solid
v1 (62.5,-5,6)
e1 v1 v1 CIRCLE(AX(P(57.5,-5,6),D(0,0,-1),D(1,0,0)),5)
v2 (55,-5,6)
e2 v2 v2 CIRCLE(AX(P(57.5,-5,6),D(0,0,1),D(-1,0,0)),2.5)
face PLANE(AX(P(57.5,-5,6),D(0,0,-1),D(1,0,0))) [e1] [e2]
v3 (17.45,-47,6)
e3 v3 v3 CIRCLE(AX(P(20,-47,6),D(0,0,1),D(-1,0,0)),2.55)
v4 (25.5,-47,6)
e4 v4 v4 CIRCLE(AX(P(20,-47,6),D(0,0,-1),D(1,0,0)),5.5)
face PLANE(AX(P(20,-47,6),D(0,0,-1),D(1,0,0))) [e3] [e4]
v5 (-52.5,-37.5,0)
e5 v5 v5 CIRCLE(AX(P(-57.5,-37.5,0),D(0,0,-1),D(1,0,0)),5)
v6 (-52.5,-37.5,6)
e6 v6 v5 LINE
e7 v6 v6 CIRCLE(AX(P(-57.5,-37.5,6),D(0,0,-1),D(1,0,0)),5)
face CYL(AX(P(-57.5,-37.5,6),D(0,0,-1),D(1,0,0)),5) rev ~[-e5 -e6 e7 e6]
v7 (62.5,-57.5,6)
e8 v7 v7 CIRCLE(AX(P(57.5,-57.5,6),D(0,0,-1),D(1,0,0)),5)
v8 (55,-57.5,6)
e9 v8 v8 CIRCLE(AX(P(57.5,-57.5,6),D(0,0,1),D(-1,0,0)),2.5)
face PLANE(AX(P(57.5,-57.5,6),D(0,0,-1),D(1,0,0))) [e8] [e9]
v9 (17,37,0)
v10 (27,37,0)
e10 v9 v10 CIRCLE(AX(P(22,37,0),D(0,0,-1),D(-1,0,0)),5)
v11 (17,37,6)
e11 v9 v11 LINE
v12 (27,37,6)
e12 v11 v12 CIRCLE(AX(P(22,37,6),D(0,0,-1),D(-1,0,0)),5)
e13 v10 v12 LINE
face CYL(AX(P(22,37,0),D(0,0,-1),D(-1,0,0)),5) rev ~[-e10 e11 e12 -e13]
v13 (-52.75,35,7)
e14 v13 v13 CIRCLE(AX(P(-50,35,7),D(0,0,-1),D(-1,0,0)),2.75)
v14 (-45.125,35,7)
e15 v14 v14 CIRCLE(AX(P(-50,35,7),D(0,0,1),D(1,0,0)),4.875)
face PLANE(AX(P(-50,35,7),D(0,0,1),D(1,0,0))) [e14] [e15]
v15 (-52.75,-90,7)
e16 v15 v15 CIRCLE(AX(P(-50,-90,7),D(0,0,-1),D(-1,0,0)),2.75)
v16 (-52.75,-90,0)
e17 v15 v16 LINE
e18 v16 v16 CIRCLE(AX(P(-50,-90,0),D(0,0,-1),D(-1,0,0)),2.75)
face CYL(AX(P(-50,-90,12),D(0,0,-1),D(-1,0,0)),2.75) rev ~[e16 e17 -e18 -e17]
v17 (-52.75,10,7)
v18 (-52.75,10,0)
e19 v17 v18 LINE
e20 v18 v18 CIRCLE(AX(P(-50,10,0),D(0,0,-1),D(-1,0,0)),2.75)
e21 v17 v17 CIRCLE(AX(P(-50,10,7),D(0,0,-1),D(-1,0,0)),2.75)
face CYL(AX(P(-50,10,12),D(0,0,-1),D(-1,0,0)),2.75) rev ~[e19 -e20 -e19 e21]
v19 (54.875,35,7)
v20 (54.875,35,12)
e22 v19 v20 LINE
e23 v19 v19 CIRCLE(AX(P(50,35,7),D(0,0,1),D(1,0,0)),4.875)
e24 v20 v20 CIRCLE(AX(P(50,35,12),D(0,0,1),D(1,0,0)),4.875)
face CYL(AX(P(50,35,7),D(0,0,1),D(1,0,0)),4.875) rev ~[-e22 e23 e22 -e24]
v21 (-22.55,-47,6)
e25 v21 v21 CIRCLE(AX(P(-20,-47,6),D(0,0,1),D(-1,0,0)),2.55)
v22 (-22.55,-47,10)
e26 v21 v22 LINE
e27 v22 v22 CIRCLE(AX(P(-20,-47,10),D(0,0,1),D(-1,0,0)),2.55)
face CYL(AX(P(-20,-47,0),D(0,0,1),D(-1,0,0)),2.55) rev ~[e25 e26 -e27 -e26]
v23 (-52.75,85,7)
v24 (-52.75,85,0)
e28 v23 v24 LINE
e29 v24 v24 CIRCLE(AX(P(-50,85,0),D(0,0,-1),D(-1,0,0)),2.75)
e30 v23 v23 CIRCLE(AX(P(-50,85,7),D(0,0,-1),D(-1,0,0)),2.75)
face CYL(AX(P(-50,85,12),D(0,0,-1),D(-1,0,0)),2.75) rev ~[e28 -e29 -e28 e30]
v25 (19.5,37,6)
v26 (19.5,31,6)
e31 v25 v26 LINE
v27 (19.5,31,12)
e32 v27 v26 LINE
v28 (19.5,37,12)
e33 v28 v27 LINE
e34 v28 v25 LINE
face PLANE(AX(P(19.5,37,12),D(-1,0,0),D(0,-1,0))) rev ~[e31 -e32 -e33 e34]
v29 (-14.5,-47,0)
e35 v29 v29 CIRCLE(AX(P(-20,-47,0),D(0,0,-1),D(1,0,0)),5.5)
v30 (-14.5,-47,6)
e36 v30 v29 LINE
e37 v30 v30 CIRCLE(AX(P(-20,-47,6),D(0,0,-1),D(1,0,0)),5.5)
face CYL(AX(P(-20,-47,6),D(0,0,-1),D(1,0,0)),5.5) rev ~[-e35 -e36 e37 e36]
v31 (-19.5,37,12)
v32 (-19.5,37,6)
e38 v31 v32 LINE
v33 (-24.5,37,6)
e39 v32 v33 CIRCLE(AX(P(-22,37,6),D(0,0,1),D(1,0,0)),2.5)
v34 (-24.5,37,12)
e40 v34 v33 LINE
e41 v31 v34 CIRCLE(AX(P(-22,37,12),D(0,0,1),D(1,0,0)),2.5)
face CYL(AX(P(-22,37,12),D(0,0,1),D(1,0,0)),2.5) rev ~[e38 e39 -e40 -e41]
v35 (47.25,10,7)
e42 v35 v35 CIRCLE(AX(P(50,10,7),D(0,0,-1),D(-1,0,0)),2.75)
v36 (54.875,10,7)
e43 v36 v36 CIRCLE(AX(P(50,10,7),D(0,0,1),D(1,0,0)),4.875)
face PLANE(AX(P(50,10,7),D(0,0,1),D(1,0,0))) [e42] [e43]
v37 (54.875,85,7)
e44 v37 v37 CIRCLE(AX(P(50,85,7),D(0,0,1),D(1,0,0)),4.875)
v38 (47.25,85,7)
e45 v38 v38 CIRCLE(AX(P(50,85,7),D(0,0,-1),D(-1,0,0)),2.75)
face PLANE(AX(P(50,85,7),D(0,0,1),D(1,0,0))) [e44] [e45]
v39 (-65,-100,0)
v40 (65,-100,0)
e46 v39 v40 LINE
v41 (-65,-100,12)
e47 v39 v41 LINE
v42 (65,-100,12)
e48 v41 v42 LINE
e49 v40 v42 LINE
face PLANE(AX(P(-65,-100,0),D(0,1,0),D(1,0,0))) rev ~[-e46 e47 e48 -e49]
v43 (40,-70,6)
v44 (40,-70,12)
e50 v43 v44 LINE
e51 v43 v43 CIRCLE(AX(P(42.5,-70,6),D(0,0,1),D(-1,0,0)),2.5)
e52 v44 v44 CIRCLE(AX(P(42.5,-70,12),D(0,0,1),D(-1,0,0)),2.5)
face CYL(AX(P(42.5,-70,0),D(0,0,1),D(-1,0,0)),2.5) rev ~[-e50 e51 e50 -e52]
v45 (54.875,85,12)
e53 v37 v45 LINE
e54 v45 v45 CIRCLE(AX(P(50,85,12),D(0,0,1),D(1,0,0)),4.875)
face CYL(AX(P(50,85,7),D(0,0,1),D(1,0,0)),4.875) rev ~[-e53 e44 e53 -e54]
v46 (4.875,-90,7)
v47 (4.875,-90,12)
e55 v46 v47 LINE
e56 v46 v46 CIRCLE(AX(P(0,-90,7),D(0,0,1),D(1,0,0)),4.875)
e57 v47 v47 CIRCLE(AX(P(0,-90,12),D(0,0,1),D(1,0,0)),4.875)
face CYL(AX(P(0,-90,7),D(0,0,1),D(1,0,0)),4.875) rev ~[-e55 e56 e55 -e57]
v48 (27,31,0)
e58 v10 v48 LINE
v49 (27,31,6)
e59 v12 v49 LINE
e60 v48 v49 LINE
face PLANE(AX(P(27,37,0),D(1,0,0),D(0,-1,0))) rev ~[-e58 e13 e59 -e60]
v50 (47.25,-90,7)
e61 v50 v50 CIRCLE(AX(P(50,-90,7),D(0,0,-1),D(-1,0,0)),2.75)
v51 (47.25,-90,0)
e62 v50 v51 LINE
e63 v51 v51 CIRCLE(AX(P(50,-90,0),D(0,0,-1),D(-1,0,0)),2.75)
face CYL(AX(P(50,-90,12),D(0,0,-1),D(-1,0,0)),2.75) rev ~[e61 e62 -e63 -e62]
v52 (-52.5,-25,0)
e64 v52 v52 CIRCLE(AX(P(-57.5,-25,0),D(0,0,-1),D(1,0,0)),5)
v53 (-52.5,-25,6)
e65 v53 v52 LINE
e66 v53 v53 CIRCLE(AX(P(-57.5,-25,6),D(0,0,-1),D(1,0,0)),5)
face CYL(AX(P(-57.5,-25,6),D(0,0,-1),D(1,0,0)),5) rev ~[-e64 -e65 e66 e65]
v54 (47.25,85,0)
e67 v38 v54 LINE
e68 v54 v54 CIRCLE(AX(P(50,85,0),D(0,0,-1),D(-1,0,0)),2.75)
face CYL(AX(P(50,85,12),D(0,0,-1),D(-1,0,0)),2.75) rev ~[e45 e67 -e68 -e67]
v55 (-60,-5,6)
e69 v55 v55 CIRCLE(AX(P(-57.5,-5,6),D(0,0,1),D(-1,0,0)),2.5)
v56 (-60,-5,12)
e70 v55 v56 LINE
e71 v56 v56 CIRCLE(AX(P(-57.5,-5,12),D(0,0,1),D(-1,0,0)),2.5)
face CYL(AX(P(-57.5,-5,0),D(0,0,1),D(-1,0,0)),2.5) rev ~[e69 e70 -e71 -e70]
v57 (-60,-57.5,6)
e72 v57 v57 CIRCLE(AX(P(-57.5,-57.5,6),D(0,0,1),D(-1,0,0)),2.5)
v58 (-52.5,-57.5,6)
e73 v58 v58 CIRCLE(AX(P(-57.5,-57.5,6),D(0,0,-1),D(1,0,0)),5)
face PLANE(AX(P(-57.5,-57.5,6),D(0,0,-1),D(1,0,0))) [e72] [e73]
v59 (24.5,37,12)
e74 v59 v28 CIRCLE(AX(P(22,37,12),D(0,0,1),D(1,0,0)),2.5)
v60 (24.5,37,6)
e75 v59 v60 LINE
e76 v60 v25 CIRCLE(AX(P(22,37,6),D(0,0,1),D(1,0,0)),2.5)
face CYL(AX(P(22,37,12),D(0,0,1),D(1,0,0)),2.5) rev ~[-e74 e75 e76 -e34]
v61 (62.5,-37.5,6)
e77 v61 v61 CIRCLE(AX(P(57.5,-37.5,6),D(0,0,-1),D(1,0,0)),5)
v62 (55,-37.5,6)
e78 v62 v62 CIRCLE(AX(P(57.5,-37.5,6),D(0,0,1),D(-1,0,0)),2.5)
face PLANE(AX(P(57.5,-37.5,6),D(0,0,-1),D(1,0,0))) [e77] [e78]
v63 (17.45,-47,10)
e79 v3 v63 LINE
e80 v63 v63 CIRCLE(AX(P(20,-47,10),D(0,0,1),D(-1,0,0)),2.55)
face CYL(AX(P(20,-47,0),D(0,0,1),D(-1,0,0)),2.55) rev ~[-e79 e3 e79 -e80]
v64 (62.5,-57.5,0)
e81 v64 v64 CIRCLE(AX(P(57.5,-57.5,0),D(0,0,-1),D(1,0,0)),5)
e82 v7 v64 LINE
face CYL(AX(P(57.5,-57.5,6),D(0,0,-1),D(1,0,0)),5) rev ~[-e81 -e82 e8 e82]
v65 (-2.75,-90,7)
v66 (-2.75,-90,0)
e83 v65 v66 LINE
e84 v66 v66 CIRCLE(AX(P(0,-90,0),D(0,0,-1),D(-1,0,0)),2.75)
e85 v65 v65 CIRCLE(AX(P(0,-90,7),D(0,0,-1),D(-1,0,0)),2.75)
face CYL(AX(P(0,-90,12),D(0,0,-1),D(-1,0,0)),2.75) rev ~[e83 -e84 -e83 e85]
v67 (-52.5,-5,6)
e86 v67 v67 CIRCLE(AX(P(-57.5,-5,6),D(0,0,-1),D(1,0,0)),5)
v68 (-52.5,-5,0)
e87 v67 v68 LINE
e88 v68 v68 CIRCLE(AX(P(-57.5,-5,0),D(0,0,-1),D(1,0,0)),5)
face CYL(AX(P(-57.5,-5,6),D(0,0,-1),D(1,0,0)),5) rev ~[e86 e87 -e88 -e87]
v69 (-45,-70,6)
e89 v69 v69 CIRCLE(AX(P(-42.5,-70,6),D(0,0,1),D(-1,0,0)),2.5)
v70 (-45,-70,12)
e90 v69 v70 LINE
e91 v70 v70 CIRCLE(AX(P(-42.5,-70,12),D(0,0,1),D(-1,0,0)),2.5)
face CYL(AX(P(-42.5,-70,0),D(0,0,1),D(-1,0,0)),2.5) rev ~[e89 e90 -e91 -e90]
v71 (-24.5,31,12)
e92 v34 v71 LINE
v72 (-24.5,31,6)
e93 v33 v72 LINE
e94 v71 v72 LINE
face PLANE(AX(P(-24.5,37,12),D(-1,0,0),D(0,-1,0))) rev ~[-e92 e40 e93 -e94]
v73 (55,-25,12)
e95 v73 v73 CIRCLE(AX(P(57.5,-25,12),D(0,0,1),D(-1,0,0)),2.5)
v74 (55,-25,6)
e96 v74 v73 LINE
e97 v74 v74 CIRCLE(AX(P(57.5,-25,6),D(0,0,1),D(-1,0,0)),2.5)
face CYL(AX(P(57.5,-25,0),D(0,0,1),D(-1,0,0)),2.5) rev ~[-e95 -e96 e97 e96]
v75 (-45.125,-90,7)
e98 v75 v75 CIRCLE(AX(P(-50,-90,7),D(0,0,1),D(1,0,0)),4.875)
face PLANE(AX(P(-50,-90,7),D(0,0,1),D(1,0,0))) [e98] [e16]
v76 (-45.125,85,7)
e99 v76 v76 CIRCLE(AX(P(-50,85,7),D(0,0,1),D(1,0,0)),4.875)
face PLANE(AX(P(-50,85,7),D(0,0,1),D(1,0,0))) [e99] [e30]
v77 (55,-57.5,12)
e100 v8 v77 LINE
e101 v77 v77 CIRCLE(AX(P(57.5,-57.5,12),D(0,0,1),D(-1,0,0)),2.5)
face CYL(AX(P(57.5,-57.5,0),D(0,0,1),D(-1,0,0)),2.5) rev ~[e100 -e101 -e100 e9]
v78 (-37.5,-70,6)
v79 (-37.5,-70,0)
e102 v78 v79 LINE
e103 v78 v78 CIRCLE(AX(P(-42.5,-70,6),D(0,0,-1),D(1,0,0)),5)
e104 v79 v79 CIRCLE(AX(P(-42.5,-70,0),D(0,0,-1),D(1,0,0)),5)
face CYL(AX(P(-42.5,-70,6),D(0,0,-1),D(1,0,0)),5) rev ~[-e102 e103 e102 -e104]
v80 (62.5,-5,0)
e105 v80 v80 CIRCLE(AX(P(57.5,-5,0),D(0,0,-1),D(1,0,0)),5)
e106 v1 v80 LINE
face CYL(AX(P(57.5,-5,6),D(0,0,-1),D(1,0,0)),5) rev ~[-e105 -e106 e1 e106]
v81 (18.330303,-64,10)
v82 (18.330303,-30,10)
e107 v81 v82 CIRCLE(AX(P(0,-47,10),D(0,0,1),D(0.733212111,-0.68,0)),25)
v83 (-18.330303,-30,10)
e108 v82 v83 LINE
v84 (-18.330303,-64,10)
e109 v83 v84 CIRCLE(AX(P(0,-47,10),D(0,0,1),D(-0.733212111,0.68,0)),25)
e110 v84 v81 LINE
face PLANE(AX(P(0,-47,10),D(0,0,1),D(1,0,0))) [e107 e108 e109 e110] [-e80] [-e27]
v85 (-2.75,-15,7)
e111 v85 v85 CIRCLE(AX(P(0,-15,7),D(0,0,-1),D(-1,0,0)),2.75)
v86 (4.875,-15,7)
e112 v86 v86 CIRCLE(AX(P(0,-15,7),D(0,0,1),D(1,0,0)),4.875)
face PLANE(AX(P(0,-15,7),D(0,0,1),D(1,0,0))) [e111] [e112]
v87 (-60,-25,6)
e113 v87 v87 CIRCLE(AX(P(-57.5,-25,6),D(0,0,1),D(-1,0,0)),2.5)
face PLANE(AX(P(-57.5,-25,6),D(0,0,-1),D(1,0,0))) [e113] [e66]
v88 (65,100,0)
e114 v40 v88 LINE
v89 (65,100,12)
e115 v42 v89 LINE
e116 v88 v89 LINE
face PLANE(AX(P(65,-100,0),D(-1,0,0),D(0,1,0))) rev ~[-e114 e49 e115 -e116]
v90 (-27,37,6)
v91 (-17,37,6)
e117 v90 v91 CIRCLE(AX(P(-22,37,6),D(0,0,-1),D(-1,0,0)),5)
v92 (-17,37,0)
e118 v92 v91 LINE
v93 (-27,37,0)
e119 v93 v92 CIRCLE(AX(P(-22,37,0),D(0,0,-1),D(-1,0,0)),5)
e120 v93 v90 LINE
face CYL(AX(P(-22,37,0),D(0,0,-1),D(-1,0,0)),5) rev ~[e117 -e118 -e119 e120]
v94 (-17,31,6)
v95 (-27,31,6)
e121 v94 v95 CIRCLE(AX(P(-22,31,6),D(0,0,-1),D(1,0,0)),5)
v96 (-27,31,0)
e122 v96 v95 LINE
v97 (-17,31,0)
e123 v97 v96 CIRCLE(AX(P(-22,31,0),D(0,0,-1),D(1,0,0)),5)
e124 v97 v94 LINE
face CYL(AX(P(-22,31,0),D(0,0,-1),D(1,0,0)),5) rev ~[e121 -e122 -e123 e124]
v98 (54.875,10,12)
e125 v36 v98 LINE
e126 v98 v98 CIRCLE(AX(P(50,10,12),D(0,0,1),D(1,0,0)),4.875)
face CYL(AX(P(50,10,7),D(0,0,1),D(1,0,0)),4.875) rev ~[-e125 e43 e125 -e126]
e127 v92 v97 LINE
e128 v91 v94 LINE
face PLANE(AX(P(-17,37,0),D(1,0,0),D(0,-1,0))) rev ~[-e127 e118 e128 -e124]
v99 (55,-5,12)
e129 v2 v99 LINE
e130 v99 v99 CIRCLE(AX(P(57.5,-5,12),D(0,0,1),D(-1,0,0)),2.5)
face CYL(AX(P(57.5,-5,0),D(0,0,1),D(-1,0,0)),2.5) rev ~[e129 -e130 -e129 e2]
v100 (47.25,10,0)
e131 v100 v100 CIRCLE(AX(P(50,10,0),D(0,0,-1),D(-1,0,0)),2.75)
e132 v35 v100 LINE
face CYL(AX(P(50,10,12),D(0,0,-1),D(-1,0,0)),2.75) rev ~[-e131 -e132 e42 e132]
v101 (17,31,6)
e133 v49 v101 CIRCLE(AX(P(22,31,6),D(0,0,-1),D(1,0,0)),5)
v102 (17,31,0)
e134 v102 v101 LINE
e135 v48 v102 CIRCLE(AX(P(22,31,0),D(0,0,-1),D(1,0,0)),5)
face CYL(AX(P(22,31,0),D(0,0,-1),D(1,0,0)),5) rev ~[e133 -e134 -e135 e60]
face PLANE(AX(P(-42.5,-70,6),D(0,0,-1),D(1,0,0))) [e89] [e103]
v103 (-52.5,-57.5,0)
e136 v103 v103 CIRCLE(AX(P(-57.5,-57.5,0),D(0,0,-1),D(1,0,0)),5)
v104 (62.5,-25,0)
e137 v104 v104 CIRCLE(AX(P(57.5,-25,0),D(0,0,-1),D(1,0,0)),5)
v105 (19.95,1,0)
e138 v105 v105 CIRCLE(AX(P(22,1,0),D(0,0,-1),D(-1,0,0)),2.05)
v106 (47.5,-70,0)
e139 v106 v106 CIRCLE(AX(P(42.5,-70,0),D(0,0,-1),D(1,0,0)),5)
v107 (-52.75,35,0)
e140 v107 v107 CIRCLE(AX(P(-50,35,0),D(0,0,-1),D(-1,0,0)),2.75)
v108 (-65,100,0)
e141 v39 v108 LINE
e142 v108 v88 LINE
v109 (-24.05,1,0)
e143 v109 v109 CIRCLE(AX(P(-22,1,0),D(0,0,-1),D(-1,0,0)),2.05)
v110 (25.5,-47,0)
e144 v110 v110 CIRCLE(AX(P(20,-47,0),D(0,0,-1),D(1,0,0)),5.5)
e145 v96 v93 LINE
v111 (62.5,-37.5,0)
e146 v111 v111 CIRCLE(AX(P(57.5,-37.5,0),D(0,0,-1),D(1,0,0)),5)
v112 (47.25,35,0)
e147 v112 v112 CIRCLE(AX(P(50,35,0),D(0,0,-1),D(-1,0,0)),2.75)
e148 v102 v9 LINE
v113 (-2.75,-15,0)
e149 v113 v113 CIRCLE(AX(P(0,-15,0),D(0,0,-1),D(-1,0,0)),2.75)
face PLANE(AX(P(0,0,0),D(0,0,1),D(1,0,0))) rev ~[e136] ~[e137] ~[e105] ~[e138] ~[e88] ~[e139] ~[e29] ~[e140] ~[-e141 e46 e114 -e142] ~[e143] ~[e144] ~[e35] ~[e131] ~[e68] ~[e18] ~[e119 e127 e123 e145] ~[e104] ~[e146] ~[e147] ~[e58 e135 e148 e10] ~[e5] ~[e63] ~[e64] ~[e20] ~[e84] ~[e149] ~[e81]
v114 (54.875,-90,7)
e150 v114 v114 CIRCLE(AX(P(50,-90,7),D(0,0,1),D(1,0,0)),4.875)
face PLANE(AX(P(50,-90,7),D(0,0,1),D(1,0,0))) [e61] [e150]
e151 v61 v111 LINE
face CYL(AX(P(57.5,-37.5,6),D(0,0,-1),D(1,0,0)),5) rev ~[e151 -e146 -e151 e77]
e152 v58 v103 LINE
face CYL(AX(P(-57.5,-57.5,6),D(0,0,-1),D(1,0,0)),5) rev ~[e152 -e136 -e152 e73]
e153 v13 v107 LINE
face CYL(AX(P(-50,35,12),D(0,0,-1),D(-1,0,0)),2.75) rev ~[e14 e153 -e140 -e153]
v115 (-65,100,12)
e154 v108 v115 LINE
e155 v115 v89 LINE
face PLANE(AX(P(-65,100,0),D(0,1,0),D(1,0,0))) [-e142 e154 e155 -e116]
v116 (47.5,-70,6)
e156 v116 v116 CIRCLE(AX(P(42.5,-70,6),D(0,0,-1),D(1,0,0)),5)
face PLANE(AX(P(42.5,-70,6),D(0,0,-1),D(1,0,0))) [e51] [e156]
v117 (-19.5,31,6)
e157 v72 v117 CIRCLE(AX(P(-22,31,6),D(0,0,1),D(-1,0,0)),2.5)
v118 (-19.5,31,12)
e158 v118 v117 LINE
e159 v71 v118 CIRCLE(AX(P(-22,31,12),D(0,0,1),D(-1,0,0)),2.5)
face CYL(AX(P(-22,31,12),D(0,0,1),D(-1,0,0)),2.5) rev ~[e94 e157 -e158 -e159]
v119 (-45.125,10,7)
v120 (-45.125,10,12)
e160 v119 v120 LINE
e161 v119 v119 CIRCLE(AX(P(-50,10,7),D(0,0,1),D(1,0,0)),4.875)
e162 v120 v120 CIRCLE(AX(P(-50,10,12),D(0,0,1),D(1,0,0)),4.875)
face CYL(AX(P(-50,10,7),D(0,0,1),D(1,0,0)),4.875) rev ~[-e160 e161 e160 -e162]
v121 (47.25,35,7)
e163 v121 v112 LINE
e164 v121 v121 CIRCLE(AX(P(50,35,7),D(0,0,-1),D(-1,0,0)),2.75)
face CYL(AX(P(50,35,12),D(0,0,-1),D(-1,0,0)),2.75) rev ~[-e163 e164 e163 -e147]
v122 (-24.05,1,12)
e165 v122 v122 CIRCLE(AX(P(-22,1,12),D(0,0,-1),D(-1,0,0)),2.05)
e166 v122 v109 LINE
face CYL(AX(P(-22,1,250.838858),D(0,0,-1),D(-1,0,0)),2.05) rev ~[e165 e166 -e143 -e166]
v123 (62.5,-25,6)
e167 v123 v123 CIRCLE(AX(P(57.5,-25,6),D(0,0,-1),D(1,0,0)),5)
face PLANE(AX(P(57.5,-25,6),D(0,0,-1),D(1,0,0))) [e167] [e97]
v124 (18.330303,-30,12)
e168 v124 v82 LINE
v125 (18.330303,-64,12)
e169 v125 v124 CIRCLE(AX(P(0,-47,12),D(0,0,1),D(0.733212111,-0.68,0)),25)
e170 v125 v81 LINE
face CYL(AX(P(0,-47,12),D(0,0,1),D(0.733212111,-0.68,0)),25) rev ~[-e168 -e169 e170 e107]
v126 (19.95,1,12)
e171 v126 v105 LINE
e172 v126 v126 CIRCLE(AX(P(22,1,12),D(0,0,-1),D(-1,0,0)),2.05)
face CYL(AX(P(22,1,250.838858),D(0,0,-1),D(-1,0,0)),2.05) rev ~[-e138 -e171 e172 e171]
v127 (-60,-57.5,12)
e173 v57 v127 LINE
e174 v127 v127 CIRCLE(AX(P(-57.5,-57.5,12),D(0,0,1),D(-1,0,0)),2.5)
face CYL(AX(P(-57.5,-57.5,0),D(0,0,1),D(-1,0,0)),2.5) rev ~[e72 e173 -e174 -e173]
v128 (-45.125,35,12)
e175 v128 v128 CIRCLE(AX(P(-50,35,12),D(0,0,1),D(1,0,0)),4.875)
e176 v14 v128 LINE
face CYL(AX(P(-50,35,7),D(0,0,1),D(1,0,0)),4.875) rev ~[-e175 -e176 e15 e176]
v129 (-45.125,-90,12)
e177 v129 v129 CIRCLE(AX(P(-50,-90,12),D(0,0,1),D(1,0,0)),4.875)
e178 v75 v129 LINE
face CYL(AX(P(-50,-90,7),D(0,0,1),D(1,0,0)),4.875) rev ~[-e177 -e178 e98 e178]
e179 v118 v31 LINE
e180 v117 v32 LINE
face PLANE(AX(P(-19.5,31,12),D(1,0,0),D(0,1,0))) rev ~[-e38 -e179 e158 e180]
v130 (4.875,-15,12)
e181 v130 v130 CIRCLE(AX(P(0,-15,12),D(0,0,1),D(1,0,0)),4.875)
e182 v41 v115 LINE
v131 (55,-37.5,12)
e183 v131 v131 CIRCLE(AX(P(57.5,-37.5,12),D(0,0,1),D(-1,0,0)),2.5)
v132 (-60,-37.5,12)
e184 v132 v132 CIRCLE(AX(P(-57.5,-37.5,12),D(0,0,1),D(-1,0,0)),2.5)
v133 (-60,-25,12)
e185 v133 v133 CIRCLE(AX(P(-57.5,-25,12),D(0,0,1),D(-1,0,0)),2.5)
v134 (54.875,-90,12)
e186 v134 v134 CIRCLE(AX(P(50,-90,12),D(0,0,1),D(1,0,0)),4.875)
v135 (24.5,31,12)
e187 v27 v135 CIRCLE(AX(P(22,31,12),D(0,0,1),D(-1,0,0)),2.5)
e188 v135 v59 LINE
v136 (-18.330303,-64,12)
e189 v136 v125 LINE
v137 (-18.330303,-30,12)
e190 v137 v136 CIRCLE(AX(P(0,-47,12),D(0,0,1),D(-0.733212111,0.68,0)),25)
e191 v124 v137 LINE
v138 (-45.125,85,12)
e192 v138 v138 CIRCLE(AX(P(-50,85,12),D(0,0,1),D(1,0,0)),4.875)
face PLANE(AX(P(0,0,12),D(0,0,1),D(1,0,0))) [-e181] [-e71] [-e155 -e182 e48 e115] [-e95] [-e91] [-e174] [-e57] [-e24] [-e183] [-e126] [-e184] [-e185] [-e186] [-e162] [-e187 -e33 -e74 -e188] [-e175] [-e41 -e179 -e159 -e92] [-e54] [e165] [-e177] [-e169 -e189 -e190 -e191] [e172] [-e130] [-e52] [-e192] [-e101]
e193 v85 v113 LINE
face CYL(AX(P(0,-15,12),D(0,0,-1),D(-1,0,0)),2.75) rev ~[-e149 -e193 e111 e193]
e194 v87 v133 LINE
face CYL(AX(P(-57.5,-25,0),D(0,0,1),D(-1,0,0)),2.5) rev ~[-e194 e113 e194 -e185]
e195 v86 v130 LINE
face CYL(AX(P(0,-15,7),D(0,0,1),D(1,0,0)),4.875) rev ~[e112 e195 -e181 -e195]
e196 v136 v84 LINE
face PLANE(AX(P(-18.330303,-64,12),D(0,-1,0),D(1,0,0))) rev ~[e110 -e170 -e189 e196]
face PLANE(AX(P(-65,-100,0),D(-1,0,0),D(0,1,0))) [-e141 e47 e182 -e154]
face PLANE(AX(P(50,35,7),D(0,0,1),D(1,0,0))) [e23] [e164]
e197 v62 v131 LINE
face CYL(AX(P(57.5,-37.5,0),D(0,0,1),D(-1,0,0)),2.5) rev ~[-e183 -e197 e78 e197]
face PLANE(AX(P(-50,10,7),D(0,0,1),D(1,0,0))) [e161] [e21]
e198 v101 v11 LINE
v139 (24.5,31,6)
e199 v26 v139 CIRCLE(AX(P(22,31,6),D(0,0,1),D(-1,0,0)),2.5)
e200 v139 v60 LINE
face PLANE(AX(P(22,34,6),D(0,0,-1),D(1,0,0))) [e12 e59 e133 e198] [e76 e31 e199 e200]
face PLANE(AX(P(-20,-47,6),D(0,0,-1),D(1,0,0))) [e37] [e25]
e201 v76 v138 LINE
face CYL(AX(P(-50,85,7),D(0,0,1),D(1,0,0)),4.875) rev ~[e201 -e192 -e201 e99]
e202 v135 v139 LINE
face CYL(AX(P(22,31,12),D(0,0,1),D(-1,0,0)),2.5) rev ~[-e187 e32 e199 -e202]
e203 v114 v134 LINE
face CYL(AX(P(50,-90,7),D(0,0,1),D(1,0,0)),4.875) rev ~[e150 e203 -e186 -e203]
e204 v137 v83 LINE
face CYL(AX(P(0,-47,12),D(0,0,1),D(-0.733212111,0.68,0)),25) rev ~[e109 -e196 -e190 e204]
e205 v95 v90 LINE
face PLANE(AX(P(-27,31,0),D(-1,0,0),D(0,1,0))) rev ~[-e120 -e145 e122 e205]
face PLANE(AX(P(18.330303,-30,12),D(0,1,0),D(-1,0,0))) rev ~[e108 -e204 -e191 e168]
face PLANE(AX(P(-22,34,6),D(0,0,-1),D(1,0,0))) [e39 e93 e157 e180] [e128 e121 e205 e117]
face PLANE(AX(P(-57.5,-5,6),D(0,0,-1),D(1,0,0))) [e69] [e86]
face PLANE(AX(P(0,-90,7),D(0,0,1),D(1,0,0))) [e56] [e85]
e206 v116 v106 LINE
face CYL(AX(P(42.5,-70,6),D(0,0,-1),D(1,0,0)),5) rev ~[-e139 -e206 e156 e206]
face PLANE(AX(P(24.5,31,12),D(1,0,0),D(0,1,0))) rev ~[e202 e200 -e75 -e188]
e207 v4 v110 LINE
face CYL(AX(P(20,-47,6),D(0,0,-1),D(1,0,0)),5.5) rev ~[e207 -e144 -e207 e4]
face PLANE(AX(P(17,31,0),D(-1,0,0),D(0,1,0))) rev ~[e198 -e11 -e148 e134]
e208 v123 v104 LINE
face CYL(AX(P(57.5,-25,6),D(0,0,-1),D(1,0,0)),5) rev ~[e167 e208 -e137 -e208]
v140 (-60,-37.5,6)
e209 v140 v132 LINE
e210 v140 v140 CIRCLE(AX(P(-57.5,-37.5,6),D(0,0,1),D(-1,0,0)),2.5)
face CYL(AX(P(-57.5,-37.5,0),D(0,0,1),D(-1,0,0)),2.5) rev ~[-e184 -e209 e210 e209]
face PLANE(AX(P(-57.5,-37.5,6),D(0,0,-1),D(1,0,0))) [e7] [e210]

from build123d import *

# Parameters (mm, degrees)
F0_W            = 130
F0_H            = 200
F1_DEPTH        = 12
F3_D            = 5.5
F3_CBORE_D      = 9.75
F3_CBORE_DEPTH  = 5
F5_DEPTH        = 25
F7_DEPTH        = 6
F9_DEPTH        = 2
F11_D           = 5.1
F11_CBORE_D     = 11
F11_CBORE_DEPTH = 6
F13_D           = 5
F13_CBORE_D     = 10
F13_CBORE_DEPTH = 6
F15_D           = 4.1


with BuildPart() as f1:
    # F0 (on Top) → F1 (new body)
    with BuildSketch(Plane.XY):
        Rectangle(F0_W, F0_H)
    extrude(amount=F1_DEPTH)

    # F3 (through all)
    with Locations(Plane.XY.offset(12)):
        with Locations((-50, -90), (0, -90), (50, -90), (-50, 10), (-50, 35), (50, 10), (50, 35), (-50, 85), (50, 85), (0, -15)):
            CounterBoreHole(F3_D / 2, F3_CBORE_D / 2, F3_CBORE_DEPTH)

    # F4 (on face) → F5 (cut)
    with BuildSketch(Plane.XY.offset(12)):
        with BuildLine():
            ThreePointArc((-19.5, 37), (-22, 39.5), (-24.5, 37))
            Line((-24.5, 37), (-24.5, 31))
            ThreePointArc((-24.5, 31), (-22, 28.5), (-19.5, 31))
            Line((-19.5, 31), (-19.5, 37))
        make_face()
        with BuildLine():
            ThreePointArc((24.5, 37), (22, 39.5), (19.5, 37))
            Line((19.5, 37), (19.5, 31))
            ThreePointArc((19.5, 31), (22, 28.5), (24.5, 31))
            Line((24.5, 31), (24.5, 37))
        make_face()
    extrude(amount=-F5_DEPTH, mode=Mode.SUBTRACT)

    # F6 (on face) → F7 (cut)
    with BuildSketch(Plane(origin=(0, 0, 0), x_dir=(1, 0, 0), z_dir=(0, 0, -1))):
        with BuildLine():
            ThreePointArc((17, -37), (22, -42), (27, -37))
            Line((27, -37), (27, -31))
            ThreePointArc((27, -31), (22, -26), (17, -31))
            Line((17, -31), (17, -37))
        make_face()
        with BuildLine():
            Line((24.5, -31), (24.5, -37))
            ThreePointArc((24.5, -37), (22, -39.5), (19.5, -37))
            Line((19.5, -37), (19.5, -31))
            ThreePointArc((19.5, -31), (22, -28.5), (24.5, -31))
        make_face(mode=Mode.SUBTRACT)
        with BuildLine():
            Line((-27, -31), (-27, -37))
            ThreePointArc((-27, -37), (-22, -42), (-17, -37))
            Line((-17, -37), (-17, -31))
            ThreePointArc((-17, -31), (-22, -26), (-27, -31))
        make_face()
        with BuildLine():
            Line((-19.5, -31), (-19.5, -37))
            ThreePointArc((-19.5, -37), (-22, -39.5), (-24.5, -37))
            Line((-24.5, -37), (-24.5, -31))
            ThreePointArc((-24.5, -31), (-22, -28.5), (-19.5, -31))
        make_face(mode=Mode.SUBTRACT)
    extrude(amount=-F7_DEPTH, mode=Mode.SUBTRACT)

    # F8 (on face) → F9 (cut)
    with BuildSketch(Plane.XY.offset(12)):
        with BuildLine():
            Line((-18.3303027798, -64), (18.3303027798, -64))
            ThreePointArc((18.3303027798, -64), (25, -47), (18.3303027798, -30))
            Line((18.3303027798, -30), (-18.3303027798, -30))
            ThreePointArc((-18.3303027798, -30), (-25, -47), (-18.3303027798, -64))
        make_face()
    extrude(amount=-F9_DEPTH, mode=Mode.SUBTRACT)

    # F11 (through all)
    with Locations(Plane(origin=(0, 0, 0), x_dir=(1, 0, 0), z_dir=(0, 0, -1))):
        with Locations((20, 47), (-20, 47)):
            CounterBoreHole(F11_D / 2, F11_CBORE_D / 2, F11_CBORE_DEPTH)

    # F13 (through all)
    with Locations(Plane(origin=(0, 0, 0), x_dir=(1, 0, 0), z_dir=(0, 0, -1))):
        with Locations((57.5, 57.5), (57.5, 37.5), (-57.5, 57.5), (-57.5, 37.5), (57.5, 25), (57.5, 5), (-57.5, 25), (-57.5, 5), (-42.5, 70), (42.5, 70)):
            CounterBoreHole(F13_D / 2, F13_CBORE_D / 2, F13_CBORE_DEPTH)

    # F15 (through all)
    with Locations(Plane.XY.offset(12)):
        with Locations((22, 1), (-22, 1)):
            Hole(F15_D / 2)


solid = f1.part
